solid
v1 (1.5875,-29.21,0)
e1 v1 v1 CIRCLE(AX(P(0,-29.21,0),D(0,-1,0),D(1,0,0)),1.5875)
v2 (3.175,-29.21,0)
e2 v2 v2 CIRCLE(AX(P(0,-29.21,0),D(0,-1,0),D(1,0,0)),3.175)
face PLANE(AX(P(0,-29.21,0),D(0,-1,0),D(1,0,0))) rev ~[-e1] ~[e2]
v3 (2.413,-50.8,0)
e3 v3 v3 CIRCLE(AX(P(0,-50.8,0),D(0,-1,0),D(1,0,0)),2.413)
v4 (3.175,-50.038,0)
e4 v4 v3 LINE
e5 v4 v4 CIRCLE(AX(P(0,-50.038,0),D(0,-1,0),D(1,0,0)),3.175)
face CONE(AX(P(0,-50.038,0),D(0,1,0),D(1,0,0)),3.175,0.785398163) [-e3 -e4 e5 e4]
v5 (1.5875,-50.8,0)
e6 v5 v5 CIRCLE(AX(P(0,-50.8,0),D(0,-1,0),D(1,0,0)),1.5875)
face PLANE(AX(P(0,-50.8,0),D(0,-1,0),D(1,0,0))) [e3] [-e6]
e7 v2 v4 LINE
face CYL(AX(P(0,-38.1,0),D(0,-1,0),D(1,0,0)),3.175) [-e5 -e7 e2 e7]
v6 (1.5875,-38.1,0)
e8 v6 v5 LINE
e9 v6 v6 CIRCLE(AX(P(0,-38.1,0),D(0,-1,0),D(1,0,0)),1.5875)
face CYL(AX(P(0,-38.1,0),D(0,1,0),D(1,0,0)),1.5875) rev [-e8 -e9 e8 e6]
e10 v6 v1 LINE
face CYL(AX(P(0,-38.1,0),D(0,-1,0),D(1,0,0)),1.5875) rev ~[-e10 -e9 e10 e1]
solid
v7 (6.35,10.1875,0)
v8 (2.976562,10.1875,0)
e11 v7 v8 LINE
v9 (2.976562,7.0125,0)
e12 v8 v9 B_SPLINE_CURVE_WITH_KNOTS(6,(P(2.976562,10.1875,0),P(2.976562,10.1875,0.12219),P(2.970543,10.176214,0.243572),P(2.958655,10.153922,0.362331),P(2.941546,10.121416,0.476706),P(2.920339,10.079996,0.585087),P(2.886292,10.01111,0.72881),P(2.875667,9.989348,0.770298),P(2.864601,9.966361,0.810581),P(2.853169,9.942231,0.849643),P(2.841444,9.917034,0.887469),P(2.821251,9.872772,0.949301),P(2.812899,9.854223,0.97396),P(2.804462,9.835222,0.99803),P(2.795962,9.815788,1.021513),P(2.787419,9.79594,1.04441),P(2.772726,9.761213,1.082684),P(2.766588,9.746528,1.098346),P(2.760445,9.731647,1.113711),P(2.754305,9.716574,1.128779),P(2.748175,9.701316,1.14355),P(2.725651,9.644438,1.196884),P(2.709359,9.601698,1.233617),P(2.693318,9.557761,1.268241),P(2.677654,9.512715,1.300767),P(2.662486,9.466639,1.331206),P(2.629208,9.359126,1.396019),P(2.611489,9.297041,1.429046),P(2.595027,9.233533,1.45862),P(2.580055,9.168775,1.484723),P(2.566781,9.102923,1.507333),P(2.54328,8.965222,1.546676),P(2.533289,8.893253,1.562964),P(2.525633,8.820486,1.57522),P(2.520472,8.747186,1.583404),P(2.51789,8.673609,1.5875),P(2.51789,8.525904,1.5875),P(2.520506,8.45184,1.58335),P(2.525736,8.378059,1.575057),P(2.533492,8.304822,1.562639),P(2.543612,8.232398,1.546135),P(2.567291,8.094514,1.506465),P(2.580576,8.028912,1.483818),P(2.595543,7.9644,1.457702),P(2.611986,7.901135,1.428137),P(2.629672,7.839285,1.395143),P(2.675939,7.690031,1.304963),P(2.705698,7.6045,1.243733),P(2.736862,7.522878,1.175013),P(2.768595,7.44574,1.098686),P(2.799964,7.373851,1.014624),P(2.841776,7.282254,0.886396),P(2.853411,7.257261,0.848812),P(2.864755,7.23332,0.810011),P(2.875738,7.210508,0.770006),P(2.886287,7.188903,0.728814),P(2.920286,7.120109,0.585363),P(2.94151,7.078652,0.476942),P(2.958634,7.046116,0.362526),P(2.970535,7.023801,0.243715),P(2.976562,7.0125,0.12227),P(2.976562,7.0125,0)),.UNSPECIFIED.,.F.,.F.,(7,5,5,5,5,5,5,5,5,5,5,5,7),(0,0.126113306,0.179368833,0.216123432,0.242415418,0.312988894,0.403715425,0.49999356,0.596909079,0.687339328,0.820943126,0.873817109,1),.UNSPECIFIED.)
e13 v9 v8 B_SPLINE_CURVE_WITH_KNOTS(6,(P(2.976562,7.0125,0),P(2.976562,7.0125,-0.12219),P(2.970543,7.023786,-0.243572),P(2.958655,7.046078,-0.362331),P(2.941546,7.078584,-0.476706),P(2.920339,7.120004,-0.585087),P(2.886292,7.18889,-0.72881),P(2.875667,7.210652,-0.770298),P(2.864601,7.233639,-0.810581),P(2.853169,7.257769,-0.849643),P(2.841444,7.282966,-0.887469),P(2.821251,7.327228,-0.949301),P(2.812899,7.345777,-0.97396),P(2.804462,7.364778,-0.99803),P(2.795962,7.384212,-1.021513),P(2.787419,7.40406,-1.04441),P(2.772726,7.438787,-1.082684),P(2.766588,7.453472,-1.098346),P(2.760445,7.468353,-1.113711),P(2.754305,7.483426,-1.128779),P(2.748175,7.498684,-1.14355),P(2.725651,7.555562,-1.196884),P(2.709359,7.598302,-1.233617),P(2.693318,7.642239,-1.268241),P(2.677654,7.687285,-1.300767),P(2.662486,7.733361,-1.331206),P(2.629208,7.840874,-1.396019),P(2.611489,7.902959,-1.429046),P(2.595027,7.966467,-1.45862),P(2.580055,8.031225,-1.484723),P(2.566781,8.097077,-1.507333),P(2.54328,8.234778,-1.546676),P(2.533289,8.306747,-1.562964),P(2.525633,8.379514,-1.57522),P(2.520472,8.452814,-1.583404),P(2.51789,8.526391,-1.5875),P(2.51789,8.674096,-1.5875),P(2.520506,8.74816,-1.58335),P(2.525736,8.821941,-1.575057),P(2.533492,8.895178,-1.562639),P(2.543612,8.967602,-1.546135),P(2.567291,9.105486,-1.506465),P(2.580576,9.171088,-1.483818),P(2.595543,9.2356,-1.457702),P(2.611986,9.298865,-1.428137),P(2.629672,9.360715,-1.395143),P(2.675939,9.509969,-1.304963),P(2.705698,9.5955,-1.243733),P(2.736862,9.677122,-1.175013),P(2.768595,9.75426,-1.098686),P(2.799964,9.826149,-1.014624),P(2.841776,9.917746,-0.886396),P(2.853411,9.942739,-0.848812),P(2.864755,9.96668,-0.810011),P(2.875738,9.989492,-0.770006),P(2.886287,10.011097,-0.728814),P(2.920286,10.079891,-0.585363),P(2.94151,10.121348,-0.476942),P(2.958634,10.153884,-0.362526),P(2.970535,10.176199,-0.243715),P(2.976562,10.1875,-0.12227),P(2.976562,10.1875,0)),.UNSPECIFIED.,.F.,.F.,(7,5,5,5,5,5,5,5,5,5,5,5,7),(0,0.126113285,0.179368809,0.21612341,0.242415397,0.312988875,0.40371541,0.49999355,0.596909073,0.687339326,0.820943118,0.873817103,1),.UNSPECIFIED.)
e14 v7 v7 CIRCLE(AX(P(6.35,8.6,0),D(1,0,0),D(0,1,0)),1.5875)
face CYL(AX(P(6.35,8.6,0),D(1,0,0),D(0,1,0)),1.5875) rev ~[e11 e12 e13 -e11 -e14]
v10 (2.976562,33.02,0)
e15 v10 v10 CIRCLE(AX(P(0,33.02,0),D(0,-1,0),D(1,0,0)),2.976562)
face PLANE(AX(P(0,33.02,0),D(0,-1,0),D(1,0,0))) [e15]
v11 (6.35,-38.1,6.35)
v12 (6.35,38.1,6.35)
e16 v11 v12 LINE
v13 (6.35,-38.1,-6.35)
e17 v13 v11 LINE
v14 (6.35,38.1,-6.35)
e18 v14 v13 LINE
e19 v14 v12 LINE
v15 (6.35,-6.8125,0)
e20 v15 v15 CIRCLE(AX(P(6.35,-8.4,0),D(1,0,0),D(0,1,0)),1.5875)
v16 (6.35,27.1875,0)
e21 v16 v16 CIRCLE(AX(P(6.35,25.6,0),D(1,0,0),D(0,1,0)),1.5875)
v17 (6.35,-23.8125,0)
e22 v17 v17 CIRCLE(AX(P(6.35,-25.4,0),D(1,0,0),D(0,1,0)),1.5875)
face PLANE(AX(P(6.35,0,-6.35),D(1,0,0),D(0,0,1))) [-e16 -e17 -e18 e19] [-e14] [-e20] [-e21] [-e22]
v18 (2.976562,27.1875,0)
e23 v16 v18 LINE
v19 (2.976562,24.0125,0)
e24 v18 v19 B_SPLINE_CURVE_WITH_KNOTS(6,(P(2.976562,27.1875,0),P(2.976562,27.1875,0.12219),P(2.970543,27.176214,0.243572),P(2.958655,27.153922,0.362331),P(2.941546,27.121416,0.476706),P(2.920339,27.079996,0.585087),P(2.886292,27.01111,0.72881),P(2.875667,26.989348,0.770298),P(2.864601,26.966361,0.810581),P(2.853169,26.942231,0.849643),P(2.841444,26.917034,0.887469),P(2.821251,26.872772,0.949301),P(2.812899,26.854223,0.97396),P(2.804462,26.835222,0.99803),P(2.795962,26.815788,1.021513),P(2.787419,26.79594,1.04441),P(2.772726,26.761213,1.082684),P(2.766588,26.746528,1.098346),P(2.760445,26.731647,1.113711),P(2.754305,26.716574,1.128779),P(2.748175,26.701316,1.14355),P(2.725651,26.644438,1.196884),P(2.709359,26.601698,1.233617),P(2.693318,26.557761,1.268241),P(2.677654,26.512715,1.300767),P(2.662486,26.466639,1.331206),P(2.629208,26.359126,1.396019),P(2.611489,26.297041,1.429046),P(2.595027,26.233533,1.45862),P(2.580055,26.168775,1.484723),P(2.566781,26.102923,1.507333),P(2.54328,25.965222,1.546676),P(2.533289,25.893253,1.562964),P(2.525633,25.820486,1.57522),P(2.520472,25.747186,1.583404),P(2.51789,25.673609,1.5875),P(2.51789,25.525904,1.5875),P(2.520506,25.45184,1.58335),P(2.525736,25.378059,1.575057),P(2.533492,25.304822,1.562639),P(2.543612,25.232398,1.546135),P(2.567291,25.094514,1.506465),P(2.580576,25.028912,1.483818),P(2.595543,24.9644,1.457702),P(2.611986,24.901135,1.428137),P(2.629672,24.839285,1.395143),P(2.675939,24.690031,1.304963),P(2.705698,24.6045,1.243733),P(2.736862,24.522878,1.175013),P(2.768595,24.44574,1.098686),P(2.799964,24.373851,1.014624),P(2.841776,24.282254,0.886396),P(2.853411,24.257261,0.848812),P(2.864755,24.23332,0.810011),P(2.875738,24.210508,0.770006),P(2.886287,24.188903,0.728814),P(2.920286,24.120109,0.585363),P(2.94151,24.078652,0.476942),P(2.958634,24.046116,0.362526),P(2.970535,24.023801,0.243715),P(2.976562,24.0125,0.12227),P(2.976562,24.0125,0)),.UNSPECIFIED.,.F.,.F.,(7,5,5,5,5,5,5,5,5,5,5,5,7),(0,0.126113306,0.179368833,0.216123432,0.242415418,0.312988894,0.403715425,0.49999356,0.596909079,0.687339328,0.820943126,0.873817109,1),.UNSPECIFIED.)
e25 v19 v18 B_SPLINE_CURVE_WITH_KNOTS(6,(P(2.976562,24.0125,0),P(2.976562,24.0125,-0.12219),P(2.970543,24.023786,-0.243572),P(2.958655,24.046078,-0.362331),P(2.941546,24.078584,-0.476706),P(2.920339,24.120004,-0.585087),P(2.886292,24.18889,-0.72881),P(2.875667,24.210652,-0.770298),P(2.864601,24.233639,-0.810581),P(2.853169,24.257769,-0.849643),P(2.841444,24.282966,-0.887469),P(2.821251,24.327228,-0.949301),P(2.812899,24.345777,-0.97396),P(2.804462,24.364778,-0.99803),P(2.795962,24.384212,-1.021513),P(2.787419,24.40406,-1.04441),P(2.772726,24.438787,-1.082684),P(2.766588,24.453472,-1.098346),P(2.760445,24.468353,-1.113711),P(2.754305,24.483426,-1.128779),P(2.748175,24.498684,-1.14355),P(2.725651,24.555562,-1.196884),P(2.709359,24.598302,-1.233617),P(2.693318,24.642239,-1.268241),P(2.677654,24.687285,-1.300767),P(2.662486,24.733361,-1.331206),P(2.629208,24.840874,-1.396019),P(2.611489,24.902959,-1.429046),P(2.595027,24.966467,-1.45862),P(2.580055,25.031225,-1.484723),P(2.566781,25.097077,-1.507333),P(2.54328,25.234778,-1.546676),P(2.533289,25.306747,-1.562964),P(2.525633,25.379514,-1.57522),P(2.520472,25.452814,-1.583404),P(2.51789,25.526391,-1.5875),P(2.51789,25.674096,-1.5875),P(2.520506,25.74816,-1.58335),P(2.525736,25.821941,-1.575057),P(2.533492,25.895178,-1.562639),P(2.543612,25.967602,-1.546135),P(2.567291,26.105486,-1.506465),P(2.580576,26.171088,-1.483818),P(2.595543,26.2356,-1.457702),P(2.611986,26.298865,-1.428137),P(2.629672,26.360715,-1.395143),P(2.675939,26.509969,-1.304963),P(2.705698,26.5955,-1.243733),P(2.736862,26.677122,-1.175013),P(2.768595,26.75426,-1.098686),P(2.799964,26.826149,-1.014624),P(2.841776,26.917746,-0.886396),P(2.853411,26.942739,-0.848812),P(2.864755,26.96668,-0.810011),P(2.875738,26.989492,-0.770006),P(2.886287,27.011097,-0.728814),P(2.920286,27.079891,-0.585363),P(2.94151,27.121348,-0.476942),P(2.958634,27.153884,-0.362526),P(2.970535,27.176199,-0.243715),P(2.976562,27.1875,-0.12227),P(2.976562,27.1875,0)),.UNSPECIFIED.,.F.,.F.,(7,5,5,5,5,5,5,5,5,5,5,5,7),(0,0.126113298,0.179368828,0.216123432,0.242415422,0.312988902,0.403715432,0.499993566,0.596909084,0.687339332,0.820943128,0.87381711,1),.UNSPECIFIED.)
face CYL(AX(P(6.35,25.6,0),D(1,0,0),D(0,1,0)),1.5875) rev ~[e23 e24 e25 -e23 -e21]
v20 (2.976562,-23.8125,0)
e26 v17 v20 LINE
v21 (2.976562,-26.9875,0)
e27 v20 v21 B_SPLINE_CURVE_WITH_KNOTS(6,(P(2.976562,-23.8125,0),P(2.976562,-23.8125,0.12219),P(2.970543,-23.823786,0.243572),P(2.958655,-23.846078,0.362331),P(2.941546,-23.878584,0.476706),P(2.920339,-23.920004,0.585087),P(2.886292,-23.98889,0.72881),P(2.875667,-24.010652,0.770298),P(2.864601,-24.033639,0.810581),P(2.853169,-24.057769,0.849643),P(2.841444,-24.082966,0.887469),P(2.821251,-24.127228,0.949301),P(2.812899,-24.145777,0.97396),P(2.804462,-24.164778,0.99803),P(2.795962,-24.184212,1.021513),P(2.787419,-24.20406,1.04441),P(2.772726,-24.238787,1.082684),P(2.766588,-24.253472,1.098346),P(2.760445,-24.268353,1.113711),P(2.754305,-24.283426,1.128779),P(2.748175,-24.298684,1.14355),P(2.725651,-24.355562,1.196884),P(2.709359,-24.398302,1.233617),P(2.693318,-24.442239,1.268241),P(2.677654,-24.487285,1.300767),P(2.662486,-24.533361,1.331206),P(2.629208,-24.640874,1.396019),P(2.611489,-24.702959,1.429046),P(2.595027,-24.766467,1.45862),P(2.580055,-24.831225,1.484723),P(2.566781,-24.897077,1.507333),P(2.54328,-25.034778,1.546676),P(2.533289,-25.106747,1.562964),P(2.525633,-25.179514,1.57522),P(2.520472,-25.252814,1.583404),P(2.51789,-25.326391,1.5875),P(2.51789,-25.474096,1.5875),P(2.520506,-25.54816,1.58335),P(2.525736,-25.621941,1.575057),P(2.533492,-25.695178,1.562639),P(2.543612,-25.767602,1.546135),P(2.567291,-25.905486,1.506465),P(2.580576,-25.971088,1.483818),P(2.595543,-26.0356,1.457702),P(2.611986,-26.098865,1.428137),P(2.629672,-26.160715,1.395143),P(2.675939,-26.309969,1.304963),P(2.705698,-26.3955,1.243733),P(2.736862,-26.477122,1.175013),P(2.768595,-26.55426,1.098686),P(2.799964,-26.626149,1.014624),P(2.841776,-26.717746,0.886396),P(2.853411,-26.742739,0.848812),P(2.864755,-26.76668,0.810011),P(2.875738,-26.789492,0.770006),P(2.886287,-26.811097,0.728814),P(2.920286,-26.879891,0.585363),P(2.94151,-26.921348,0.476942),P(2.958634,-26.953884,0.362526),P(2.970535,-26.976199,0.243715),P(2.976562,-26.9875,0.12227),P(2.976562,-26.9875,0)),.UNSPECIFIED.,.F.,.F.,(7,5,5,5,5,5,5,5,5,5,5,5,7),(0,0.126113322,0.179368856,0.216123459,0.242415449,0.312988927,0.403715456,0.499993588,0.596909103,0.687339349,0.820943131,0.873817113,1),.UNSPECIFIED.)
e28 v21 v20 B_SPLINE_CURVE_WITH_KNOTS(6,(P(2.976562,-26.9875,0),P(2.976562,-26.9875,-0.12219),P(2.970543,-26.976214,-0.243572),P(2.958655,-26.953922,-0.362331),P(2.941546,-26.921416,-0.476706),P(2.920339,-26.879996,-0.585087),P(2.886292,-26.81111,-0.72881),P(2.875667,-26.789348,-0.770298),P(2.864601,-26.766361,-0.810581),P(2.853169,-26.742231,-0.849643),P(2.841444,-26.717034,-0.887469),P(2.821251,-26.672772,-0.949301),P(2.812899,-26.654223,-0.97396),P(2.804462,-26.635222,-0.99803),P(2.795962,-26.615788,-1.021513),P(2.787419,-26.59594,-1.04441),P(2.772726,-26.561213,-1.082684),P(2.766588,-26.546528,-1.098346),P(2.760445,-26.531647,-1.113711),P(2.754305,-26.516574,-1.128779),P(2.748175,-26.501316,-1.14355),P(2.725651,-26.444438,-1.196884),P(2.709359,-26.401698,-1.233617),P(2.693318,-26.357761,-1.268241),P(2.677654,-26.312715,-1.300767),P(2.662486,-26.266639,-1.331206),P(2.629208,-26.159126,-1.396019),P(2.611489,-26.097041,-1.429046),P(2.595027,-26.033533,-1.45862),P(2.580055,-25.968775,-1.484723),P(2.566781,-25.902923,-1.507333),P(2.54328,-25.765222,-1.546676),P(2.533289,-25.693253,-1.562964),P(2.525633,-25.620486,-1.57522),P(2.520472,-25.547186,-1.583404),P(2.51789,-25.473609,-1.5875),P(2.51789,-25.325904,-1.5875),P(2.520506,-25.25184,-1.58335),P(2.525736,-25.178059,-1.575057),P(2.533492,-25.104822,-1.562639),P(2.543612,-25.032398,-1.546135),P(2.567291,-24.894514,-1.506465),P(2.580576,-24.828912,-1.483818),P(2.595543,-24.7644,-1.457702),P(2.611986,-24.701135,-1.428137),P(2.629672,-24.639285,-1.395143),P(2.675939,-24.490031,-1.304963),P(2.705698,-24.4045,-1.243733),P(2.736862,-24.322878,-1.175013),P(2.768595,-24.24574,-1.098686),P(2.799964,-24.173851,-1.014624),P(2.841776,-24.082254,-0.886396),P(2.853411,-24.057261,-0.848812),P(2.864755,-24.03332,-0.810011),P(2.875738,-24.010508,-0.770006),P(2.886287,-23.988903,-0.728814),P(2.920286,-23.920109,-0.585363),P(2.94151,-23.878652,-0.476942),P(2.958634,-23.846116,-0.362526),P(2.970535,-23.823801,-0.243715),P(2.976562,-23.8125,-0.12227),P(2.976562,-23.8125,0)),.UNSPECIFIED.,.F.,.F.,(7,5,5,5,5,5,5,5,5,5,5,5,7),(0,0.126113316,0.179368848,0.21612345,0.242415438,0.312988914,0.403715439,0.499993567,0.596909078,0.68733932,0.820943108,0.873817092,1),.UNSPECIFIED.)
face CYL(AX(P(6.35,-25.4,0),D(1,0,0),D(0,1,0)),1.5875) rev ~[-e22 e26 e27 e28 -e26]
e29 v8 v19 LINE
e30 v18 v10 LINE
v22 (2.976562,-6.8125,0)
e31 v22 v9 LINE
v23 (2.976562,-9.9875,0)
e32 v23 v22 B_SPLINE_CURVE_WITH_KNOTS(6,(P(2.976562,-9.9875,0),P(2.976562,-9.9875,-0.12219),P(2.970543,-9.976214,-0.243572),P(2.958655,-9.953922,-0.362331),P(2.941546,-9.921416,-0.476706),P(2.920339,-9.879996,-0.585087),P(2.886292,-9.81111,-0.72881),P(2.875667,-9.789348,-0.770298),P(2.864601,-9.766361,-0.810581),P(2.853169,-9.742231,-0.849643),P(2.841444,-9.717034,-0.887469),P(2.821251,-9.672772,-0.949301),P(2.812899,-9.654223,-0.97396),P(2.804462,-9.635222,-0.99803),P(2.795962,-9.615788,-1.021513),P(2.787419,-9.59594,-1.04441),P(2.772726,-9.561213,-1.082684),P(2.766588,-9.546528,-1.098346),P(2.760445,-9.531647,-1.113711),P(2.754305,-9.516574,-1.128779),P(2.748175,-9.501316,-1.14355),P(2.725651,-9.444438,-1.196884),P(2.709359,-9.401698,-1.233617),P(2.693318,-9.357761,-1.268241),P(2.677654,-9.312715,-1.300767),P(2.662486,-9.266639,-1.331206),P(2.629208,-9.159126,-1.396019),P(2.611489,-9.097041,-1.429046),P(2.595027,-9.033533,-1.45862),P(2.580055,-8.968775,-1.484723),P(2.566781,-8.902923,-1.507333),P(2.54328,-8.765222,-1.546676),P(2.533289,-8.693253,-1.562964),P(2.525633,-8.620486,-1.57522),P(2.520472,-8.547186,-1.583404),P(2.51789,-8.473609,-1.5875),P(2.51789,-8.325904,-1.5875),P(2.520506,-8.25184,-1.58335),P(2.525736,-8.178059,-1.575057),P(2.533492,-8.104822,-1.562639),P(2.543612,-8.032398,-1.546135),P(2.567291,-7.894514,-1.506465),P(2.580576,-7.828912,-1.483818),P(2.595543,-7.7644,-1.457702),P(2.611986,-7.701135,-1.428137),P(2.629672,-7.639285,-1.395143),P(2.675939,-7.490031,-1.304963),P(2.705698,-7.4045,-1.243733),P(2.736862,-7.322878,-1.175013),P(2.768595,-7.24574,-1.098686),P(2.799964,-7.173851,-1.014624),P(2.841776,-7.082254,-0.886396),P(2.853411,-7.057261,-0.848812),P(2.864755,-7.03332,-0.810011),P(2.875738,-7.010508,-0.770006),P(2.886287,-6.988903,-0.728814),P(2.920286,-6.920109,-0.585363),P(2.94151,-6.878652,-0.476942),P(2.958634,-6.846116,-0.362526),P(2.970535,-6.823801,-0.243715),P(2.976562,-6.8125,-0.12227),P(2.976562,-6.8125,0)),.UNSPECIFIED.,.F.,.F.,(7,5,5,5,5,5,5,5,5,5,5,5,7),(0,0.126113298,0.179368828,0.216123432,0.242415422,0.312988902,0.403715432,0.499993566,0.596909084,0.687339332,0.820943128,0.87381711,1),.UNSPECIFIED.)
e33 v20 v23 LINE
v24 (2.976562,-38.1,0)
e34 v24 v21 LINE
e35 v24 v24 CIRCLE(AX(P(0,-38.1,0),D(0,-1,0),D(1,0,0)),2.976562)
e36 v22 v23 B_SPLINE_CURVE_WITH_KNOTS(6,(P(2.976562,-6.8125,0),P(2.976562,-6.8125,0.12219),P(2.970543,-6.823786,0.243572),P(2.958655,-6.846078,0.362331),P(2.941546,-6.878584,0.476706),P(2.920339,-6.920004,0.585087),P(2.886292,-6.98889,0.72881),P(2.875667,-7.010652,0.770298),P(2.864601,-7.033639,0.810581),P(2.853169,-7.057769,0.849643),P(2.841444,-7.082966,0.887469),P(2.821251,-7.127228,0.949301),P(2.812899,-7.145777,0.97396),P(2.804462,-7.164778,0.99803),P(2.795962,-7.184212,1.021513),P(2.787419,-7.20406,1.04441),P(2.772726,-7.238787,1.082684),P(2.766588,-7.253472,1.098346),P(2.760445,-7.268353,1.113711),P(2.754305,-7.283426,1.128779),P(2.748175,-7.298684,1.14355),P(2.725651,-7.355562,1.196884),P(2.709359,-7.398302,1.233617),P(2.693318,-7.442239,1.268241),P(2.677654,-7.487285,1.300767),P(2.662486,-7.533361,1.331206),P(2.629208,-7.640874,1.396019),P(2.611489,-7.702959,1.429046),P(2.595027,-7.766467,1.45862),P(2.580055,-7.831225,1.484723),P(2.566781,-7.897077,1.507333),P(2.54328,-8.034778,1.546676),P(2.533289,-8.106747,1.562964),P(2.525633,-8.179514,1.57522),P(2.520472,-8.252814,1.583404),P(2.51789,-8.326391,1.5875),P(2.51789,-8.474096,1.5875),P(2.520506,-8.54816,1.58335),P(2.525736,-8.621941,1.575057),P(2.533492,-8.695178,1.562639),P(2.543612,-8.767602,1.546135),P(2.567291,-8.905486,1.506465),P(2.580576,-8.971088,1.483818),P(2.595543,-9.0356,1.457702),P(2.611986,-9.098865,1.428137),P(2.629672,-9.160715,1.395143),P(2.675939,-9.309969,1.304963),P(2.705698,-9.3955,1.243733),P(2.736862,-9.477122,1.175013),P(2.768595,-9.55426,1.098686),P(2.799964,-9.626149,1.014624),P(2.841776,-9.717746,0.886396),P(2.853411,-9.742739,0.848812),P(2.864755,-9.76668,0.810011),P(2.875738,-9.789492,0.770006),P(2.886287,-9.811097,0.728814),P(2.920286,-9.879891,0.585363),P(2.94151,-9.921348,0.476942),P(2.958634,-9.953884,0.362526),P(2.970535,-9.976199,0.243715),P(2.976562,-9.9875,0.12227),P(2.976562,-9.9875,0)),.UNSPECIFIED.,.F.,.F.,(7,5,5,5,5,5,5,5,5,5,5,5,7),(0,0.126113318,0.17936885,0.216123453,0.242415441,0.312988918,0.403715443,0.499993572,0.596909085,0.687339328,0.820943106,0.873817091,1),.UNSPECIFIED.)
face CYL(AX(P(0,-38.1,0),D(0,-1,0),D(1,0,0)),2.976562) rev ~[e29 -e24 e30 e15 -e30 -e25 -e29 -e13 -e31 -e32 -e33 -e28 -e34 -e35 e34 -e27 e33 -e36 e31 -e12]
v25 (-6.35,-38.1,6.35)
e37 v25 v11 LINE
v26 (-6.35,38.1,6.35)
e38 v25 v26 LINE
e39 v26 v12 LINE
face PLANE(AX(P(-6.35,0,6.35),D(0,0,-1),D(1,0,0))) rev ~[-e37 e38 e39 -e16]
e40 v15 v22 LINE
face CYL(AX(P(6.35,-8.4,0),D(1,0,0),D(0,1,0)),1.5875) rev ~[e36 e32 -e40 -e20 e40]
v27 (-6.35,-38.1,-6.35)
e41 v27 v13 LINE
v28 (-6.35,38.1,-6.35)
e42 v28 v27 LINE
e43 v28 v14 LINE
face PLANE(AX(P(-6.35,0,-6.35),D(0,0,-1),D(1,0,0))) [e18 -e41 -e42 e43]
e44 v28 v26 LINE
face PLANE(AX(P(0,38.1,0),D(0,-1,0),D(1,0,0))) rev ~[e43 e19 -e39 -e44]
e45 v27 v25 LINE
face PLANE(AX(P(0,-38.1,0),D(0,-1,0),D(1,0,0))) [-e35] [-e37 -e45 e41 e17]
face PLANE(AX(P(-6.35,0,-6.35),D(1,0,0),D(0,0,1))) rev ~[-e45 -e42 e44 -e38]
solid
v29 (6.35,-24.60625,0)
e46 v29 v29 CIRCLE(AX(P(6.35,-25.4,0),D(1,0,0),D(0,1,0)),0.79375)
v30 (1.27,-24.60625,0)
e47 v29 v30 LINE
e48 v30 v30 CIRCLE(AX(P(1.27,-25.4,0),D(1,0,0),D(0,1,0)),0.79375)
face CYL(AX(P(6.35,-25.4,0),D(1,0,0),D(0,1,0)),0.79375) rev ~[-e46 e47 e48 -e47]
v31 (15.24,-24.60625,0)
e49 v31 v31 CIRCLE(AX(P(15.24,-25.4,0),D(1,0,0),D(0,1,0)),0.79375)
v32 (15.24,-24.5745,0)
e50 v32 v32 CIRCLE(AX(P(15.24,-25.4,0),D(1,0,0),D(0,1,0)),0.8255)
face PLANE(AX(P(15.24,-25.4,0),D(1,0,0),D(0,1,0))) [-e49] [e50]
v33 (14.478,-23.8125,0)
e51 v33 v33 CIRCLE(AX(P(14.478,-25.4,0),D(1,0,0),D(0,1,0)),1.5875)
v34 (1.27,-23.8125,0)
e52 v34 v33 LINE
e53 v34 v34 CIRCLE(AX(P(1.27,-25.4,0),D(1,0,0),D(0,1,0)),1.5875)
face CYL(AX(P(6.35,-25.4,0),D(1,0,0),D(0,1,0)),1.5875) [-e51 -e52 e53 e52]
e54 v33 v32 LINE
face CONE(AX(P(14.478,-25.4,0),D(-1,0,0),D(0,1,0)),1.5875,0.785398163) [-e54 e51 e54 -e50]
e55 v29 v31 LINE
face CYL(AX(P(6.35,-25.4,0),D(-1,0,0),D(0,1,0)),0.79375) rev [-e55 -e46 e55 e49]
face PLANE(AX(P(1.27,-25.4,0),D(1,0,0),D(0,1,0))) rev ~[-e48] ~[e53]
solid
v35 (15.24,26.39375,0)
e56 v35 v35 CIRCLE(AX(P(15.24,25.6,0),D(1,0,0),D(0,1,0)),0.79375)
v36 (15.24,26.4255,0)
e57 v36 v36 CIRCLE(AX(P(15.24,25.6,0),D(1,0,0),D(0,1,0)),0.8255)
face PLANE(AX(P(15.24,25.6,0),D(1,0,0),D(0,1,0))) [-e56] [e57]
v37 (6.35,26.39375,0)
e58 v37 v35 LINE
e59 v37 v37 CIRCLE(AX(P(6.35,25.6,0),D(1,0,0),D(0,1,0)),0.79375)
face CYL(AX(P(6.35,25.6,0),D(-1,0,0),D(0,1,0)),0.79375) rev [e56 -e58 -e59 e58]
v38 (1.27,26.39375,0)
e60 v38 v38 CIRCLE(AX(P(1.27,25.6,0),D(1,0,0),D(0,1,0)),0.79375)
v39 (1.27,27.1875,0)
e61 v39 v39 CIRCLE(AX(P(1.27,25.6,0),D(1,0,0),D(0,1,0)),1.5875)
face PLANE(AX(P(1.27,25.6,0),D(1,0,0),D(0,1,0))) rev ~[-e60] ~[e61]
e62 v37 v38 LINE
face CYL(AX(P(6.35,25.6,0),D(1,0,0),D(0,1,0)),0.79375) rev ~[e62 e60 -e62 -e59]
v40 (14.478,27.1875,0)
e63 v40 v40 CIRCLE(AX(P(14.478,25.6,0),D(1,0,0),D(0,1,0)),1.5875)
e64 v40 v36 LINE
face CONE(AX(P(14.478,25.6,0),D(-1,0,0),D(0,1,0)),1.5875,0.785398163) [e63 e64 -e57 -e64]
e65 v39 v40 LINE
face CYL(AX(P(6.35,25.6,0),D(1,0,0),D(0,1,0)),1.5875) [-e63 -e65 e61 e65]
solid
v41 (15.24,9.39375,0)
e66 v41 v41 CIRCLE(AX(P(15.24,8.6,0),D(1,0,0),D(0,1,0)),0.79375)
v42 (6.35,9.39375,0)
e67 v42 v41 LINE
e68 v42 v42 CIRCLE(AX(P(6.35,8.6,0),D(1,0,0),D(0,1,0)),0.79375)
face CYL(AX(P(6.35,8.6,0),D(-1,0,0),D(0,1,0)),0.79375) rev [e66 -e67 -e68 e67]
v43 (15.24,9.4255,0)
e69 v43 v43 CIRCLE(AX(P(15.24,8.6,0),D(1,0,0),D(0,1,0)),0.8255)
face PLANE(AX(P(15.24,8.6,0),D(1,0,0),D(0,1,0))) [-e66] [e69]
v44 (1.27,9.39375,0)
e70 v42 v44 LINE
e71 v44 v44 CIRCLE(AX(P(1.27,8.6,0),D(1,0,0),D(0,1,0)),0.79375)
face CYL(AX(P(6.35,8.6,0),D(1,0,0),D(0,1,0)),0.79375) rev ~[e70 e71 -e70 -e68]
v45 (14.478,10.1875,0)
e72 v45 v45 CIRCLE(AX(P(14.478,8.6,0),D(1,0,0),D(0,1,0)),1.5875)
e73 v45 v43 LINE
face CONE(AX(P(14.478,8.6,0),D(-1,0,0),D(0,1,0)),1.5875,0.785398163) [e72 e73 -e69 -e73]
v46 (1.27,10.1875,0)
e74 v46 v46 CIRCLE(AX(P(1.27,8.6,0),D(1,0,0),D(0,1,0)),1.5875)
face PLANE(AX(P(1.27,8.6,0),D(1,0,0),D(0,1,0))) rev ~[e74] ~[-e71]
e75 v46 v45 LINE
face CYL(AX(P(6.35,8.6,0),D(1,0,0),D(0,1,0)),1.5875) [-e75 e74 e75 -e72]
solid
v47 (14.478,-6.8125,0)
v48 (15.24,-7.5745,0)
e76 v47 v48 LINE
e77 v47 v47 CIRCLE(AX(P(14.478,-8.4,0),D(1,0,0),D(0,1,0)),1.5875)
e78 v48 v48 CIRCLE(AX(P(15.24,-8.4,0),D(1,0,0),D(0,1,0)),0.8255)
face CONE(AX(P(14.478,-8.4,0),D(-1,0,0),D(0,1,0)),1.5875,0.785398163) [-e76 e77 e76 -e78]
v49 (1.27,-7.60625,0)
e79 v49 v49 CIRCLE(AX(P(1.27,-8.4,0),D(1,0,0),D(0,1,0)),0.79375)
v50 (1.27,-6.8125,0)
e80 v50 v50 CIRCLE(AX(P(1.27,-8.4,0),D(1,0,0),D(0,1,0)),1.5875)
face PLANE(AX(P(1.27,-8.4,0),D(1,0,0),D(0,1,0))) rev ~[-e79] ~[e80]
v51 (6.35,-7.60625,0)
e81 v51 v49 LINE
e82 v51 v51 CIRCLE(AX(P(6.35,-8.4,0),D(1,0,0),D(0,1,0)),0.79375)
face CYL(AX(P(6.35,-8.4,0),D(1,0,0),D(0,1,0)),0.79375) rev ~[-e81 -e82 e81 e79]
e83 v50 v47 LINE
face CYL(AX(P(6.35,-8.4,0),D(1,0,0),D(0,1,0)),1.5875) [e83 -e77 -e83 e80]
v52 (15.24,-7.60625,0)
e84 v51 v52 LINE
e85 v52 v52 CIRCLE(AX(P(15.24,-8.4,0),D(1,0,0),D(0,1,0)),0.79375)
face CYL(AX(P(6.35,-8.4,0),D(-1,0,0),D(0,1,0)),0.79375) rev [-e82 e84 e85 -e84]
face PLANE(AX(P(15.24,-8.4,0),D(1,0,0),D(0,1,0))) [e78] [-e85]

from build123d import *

# Parameters (mm, degrees)
F0_W          = 12.7
F0_H          = 12.7
F1_DEPTH      = 38.1
F2_R          = 2.9765625
F3_DEPTH      = 71.12
F4_R          = 1.5875
F5_DEPTH      = 3.8331104943
F6_R          = 3.175
F6_R_2        = 1.5875
F7_DEPTH      = 12.7
F7_DEPTH_BACK = 8.89
F8_R          = 1.5875
F8_R_2        = 0.79375
F9_DEPTH      = 8.89
F9_DEPTH_BACK = 5.08
F10_SIZE      = 0.762
F10_2_SIZE    = 0.762
F10_3_SIZE    = 0.762
F10_4_SIZE    = 0.762
F10_5_SIZE    = 0.762


with BuildPart() as f1:
    # F0 (on Front) → F1 (new body, symmetric)
    with BuildSketch(Plane.XZ):
        Rectangle(F0_W, F0_H)
    extrude(amount=F1_DEPTH, both=True)

    # F2 (on face) → F3 (cut)
    with BuildSketch(Plane.XZ.offset(38.1)):
        Circle(F2_R)
    extrude(amount=-F3_DEPTH, mode=Mode.SUBTRACT)

    # F4 (on face) → F5 (cut, through all)
    with BuildSketch(Plane.YZ.offset(6.35)):
        with Locations((-25.4, 0)):
            Circle(F4_R)
        with Locations((-8.4, 0)):
            Circle(F4_R)
        with Locations((8.6, 0)):
            Circle(F4_R)
        with Locations((25.6, 0)):
            Circle(F4_R)
    extrude(amount=-F5_DEPTH, mode=Mode.SUBTRACT)


with BuildPart() as f7:
    # F6 (on face) → F7 (new body, two sides)
    with BuildSketch(Plane.XZ.offset(38.1)) as f7_sk:
        Circle(F6_R)
        Circle(F6_R_2, mode=Mode.SUBTRACT)
    extrude(amount=F7_DEPTH)
    extrude(f7_sk.sketch, amount=-F7_DEPTH_BACK)

    # F10
    f10_edges = [f7.edges().sort_by_distance(p)[0] for p in [
        (-3.175, -50.8, 0),
    ]]
    chamfer(f10_edges, length=F10_SIZE)


with BuildPart() as f9:
    # F8 (on face) → F9 (new body, two sides)
    with BuildSketch(Plane.YZ.offset(6.35)) as f9_sk:
        with Locations((-25.4, 0)):
            Circle(F8_R)
        with Locations((-25.4, 0)):
            Circle(F8_R_2, mode=Mode.SUBTRACT)
    extrude(amount=F9_DEPTH)
    extrude(f9_sk.sketch, amount=-F9_DEPTH_BACK)

    # F10#2
    f10_2_edges = [f9.edges().sort_by_distance(p)[0] for p in [
        (15.24, -26.9875, 0),
    ]]
    chamfer(f10_2_edges, length=F10_2_SIZE)


with BuildPart() as f9b:
    # F8 (on face) → F9, piece 2 (new body, two sides)
    with BuildSketch(Plane.YZ.offset(6.35)) as f9_2_sk:
        with Locations((-8.4, 0)):
            Circle(F8_R)
        with Locations((-8.4, 0)):
            Circle(F8_R_2, mode=Mode.SUBTRACT)
    extrude(amount=F9_DEPTH)
    extrude(f9_2_sk.sketch, amount=-F9_DEPTH_BACK)

    # F10#3
    f10_3_edges = [f9b.edges().sort_by_distance(p)[0] for p in [
        (15.24, -9.9875, 0),
    ]]
    chamfer(f10_3_edges, length=F10_3_SIZE)


with BuildPart() as f9c:
    # F8 (on face) → F9, piece 3 (new body, two sides)
    with BuildSketch(Plane.YZ.offset(6.35)) as f9_3_sk:
        with Locations((8.6, 0)):
            Circle(F8_R)
        with Locations((8.6, 0)):
            Circle(F8_R_2, mode=Mode.SUBTRACT)
    extrude(amount=F9_DEPTH)
    extrude(f9_3_sk.sketch, amount=-F9_DEPTH_BACK)

    # F10#4
    f10_4_edges = [f9c.edges().sort_by_distance(p)[0] for p in [
        (15.24, 7.0125, 0),
    ]]
    chamfer(f10_4_edges, length=F10_4_SIZE)


with BuildPart() as f9d:
    # F8 (on face) → F9, piece 4 (new body, two sides)
    with BuildSketch(Plane.YZ.offset(6.35)) as f9_4_sk:
        with Locations((25.6, 0)):
            Circle(F8_R)
        with Locations((25.6, 0)):
            Circle(F8_R_2, mode=Mode.SUBTRACT)
    extrude(amount=F9_DEPTH)
    extrude(f9_4_sk.sketch, amount=-F9_DEPTH_BACK)

    # F10#5
    f10_5_edges = [f9d.edges().sort_by_distance(p)[0] for p in [
        (15.24, 24.0125, 0),
    ]]
    chamfer(f10_5_edges, length=F10_5_SIZE)


solid = Compound([f1.part, f7.part, f9.part, f9b.part, f9c.part, f9d.part])
